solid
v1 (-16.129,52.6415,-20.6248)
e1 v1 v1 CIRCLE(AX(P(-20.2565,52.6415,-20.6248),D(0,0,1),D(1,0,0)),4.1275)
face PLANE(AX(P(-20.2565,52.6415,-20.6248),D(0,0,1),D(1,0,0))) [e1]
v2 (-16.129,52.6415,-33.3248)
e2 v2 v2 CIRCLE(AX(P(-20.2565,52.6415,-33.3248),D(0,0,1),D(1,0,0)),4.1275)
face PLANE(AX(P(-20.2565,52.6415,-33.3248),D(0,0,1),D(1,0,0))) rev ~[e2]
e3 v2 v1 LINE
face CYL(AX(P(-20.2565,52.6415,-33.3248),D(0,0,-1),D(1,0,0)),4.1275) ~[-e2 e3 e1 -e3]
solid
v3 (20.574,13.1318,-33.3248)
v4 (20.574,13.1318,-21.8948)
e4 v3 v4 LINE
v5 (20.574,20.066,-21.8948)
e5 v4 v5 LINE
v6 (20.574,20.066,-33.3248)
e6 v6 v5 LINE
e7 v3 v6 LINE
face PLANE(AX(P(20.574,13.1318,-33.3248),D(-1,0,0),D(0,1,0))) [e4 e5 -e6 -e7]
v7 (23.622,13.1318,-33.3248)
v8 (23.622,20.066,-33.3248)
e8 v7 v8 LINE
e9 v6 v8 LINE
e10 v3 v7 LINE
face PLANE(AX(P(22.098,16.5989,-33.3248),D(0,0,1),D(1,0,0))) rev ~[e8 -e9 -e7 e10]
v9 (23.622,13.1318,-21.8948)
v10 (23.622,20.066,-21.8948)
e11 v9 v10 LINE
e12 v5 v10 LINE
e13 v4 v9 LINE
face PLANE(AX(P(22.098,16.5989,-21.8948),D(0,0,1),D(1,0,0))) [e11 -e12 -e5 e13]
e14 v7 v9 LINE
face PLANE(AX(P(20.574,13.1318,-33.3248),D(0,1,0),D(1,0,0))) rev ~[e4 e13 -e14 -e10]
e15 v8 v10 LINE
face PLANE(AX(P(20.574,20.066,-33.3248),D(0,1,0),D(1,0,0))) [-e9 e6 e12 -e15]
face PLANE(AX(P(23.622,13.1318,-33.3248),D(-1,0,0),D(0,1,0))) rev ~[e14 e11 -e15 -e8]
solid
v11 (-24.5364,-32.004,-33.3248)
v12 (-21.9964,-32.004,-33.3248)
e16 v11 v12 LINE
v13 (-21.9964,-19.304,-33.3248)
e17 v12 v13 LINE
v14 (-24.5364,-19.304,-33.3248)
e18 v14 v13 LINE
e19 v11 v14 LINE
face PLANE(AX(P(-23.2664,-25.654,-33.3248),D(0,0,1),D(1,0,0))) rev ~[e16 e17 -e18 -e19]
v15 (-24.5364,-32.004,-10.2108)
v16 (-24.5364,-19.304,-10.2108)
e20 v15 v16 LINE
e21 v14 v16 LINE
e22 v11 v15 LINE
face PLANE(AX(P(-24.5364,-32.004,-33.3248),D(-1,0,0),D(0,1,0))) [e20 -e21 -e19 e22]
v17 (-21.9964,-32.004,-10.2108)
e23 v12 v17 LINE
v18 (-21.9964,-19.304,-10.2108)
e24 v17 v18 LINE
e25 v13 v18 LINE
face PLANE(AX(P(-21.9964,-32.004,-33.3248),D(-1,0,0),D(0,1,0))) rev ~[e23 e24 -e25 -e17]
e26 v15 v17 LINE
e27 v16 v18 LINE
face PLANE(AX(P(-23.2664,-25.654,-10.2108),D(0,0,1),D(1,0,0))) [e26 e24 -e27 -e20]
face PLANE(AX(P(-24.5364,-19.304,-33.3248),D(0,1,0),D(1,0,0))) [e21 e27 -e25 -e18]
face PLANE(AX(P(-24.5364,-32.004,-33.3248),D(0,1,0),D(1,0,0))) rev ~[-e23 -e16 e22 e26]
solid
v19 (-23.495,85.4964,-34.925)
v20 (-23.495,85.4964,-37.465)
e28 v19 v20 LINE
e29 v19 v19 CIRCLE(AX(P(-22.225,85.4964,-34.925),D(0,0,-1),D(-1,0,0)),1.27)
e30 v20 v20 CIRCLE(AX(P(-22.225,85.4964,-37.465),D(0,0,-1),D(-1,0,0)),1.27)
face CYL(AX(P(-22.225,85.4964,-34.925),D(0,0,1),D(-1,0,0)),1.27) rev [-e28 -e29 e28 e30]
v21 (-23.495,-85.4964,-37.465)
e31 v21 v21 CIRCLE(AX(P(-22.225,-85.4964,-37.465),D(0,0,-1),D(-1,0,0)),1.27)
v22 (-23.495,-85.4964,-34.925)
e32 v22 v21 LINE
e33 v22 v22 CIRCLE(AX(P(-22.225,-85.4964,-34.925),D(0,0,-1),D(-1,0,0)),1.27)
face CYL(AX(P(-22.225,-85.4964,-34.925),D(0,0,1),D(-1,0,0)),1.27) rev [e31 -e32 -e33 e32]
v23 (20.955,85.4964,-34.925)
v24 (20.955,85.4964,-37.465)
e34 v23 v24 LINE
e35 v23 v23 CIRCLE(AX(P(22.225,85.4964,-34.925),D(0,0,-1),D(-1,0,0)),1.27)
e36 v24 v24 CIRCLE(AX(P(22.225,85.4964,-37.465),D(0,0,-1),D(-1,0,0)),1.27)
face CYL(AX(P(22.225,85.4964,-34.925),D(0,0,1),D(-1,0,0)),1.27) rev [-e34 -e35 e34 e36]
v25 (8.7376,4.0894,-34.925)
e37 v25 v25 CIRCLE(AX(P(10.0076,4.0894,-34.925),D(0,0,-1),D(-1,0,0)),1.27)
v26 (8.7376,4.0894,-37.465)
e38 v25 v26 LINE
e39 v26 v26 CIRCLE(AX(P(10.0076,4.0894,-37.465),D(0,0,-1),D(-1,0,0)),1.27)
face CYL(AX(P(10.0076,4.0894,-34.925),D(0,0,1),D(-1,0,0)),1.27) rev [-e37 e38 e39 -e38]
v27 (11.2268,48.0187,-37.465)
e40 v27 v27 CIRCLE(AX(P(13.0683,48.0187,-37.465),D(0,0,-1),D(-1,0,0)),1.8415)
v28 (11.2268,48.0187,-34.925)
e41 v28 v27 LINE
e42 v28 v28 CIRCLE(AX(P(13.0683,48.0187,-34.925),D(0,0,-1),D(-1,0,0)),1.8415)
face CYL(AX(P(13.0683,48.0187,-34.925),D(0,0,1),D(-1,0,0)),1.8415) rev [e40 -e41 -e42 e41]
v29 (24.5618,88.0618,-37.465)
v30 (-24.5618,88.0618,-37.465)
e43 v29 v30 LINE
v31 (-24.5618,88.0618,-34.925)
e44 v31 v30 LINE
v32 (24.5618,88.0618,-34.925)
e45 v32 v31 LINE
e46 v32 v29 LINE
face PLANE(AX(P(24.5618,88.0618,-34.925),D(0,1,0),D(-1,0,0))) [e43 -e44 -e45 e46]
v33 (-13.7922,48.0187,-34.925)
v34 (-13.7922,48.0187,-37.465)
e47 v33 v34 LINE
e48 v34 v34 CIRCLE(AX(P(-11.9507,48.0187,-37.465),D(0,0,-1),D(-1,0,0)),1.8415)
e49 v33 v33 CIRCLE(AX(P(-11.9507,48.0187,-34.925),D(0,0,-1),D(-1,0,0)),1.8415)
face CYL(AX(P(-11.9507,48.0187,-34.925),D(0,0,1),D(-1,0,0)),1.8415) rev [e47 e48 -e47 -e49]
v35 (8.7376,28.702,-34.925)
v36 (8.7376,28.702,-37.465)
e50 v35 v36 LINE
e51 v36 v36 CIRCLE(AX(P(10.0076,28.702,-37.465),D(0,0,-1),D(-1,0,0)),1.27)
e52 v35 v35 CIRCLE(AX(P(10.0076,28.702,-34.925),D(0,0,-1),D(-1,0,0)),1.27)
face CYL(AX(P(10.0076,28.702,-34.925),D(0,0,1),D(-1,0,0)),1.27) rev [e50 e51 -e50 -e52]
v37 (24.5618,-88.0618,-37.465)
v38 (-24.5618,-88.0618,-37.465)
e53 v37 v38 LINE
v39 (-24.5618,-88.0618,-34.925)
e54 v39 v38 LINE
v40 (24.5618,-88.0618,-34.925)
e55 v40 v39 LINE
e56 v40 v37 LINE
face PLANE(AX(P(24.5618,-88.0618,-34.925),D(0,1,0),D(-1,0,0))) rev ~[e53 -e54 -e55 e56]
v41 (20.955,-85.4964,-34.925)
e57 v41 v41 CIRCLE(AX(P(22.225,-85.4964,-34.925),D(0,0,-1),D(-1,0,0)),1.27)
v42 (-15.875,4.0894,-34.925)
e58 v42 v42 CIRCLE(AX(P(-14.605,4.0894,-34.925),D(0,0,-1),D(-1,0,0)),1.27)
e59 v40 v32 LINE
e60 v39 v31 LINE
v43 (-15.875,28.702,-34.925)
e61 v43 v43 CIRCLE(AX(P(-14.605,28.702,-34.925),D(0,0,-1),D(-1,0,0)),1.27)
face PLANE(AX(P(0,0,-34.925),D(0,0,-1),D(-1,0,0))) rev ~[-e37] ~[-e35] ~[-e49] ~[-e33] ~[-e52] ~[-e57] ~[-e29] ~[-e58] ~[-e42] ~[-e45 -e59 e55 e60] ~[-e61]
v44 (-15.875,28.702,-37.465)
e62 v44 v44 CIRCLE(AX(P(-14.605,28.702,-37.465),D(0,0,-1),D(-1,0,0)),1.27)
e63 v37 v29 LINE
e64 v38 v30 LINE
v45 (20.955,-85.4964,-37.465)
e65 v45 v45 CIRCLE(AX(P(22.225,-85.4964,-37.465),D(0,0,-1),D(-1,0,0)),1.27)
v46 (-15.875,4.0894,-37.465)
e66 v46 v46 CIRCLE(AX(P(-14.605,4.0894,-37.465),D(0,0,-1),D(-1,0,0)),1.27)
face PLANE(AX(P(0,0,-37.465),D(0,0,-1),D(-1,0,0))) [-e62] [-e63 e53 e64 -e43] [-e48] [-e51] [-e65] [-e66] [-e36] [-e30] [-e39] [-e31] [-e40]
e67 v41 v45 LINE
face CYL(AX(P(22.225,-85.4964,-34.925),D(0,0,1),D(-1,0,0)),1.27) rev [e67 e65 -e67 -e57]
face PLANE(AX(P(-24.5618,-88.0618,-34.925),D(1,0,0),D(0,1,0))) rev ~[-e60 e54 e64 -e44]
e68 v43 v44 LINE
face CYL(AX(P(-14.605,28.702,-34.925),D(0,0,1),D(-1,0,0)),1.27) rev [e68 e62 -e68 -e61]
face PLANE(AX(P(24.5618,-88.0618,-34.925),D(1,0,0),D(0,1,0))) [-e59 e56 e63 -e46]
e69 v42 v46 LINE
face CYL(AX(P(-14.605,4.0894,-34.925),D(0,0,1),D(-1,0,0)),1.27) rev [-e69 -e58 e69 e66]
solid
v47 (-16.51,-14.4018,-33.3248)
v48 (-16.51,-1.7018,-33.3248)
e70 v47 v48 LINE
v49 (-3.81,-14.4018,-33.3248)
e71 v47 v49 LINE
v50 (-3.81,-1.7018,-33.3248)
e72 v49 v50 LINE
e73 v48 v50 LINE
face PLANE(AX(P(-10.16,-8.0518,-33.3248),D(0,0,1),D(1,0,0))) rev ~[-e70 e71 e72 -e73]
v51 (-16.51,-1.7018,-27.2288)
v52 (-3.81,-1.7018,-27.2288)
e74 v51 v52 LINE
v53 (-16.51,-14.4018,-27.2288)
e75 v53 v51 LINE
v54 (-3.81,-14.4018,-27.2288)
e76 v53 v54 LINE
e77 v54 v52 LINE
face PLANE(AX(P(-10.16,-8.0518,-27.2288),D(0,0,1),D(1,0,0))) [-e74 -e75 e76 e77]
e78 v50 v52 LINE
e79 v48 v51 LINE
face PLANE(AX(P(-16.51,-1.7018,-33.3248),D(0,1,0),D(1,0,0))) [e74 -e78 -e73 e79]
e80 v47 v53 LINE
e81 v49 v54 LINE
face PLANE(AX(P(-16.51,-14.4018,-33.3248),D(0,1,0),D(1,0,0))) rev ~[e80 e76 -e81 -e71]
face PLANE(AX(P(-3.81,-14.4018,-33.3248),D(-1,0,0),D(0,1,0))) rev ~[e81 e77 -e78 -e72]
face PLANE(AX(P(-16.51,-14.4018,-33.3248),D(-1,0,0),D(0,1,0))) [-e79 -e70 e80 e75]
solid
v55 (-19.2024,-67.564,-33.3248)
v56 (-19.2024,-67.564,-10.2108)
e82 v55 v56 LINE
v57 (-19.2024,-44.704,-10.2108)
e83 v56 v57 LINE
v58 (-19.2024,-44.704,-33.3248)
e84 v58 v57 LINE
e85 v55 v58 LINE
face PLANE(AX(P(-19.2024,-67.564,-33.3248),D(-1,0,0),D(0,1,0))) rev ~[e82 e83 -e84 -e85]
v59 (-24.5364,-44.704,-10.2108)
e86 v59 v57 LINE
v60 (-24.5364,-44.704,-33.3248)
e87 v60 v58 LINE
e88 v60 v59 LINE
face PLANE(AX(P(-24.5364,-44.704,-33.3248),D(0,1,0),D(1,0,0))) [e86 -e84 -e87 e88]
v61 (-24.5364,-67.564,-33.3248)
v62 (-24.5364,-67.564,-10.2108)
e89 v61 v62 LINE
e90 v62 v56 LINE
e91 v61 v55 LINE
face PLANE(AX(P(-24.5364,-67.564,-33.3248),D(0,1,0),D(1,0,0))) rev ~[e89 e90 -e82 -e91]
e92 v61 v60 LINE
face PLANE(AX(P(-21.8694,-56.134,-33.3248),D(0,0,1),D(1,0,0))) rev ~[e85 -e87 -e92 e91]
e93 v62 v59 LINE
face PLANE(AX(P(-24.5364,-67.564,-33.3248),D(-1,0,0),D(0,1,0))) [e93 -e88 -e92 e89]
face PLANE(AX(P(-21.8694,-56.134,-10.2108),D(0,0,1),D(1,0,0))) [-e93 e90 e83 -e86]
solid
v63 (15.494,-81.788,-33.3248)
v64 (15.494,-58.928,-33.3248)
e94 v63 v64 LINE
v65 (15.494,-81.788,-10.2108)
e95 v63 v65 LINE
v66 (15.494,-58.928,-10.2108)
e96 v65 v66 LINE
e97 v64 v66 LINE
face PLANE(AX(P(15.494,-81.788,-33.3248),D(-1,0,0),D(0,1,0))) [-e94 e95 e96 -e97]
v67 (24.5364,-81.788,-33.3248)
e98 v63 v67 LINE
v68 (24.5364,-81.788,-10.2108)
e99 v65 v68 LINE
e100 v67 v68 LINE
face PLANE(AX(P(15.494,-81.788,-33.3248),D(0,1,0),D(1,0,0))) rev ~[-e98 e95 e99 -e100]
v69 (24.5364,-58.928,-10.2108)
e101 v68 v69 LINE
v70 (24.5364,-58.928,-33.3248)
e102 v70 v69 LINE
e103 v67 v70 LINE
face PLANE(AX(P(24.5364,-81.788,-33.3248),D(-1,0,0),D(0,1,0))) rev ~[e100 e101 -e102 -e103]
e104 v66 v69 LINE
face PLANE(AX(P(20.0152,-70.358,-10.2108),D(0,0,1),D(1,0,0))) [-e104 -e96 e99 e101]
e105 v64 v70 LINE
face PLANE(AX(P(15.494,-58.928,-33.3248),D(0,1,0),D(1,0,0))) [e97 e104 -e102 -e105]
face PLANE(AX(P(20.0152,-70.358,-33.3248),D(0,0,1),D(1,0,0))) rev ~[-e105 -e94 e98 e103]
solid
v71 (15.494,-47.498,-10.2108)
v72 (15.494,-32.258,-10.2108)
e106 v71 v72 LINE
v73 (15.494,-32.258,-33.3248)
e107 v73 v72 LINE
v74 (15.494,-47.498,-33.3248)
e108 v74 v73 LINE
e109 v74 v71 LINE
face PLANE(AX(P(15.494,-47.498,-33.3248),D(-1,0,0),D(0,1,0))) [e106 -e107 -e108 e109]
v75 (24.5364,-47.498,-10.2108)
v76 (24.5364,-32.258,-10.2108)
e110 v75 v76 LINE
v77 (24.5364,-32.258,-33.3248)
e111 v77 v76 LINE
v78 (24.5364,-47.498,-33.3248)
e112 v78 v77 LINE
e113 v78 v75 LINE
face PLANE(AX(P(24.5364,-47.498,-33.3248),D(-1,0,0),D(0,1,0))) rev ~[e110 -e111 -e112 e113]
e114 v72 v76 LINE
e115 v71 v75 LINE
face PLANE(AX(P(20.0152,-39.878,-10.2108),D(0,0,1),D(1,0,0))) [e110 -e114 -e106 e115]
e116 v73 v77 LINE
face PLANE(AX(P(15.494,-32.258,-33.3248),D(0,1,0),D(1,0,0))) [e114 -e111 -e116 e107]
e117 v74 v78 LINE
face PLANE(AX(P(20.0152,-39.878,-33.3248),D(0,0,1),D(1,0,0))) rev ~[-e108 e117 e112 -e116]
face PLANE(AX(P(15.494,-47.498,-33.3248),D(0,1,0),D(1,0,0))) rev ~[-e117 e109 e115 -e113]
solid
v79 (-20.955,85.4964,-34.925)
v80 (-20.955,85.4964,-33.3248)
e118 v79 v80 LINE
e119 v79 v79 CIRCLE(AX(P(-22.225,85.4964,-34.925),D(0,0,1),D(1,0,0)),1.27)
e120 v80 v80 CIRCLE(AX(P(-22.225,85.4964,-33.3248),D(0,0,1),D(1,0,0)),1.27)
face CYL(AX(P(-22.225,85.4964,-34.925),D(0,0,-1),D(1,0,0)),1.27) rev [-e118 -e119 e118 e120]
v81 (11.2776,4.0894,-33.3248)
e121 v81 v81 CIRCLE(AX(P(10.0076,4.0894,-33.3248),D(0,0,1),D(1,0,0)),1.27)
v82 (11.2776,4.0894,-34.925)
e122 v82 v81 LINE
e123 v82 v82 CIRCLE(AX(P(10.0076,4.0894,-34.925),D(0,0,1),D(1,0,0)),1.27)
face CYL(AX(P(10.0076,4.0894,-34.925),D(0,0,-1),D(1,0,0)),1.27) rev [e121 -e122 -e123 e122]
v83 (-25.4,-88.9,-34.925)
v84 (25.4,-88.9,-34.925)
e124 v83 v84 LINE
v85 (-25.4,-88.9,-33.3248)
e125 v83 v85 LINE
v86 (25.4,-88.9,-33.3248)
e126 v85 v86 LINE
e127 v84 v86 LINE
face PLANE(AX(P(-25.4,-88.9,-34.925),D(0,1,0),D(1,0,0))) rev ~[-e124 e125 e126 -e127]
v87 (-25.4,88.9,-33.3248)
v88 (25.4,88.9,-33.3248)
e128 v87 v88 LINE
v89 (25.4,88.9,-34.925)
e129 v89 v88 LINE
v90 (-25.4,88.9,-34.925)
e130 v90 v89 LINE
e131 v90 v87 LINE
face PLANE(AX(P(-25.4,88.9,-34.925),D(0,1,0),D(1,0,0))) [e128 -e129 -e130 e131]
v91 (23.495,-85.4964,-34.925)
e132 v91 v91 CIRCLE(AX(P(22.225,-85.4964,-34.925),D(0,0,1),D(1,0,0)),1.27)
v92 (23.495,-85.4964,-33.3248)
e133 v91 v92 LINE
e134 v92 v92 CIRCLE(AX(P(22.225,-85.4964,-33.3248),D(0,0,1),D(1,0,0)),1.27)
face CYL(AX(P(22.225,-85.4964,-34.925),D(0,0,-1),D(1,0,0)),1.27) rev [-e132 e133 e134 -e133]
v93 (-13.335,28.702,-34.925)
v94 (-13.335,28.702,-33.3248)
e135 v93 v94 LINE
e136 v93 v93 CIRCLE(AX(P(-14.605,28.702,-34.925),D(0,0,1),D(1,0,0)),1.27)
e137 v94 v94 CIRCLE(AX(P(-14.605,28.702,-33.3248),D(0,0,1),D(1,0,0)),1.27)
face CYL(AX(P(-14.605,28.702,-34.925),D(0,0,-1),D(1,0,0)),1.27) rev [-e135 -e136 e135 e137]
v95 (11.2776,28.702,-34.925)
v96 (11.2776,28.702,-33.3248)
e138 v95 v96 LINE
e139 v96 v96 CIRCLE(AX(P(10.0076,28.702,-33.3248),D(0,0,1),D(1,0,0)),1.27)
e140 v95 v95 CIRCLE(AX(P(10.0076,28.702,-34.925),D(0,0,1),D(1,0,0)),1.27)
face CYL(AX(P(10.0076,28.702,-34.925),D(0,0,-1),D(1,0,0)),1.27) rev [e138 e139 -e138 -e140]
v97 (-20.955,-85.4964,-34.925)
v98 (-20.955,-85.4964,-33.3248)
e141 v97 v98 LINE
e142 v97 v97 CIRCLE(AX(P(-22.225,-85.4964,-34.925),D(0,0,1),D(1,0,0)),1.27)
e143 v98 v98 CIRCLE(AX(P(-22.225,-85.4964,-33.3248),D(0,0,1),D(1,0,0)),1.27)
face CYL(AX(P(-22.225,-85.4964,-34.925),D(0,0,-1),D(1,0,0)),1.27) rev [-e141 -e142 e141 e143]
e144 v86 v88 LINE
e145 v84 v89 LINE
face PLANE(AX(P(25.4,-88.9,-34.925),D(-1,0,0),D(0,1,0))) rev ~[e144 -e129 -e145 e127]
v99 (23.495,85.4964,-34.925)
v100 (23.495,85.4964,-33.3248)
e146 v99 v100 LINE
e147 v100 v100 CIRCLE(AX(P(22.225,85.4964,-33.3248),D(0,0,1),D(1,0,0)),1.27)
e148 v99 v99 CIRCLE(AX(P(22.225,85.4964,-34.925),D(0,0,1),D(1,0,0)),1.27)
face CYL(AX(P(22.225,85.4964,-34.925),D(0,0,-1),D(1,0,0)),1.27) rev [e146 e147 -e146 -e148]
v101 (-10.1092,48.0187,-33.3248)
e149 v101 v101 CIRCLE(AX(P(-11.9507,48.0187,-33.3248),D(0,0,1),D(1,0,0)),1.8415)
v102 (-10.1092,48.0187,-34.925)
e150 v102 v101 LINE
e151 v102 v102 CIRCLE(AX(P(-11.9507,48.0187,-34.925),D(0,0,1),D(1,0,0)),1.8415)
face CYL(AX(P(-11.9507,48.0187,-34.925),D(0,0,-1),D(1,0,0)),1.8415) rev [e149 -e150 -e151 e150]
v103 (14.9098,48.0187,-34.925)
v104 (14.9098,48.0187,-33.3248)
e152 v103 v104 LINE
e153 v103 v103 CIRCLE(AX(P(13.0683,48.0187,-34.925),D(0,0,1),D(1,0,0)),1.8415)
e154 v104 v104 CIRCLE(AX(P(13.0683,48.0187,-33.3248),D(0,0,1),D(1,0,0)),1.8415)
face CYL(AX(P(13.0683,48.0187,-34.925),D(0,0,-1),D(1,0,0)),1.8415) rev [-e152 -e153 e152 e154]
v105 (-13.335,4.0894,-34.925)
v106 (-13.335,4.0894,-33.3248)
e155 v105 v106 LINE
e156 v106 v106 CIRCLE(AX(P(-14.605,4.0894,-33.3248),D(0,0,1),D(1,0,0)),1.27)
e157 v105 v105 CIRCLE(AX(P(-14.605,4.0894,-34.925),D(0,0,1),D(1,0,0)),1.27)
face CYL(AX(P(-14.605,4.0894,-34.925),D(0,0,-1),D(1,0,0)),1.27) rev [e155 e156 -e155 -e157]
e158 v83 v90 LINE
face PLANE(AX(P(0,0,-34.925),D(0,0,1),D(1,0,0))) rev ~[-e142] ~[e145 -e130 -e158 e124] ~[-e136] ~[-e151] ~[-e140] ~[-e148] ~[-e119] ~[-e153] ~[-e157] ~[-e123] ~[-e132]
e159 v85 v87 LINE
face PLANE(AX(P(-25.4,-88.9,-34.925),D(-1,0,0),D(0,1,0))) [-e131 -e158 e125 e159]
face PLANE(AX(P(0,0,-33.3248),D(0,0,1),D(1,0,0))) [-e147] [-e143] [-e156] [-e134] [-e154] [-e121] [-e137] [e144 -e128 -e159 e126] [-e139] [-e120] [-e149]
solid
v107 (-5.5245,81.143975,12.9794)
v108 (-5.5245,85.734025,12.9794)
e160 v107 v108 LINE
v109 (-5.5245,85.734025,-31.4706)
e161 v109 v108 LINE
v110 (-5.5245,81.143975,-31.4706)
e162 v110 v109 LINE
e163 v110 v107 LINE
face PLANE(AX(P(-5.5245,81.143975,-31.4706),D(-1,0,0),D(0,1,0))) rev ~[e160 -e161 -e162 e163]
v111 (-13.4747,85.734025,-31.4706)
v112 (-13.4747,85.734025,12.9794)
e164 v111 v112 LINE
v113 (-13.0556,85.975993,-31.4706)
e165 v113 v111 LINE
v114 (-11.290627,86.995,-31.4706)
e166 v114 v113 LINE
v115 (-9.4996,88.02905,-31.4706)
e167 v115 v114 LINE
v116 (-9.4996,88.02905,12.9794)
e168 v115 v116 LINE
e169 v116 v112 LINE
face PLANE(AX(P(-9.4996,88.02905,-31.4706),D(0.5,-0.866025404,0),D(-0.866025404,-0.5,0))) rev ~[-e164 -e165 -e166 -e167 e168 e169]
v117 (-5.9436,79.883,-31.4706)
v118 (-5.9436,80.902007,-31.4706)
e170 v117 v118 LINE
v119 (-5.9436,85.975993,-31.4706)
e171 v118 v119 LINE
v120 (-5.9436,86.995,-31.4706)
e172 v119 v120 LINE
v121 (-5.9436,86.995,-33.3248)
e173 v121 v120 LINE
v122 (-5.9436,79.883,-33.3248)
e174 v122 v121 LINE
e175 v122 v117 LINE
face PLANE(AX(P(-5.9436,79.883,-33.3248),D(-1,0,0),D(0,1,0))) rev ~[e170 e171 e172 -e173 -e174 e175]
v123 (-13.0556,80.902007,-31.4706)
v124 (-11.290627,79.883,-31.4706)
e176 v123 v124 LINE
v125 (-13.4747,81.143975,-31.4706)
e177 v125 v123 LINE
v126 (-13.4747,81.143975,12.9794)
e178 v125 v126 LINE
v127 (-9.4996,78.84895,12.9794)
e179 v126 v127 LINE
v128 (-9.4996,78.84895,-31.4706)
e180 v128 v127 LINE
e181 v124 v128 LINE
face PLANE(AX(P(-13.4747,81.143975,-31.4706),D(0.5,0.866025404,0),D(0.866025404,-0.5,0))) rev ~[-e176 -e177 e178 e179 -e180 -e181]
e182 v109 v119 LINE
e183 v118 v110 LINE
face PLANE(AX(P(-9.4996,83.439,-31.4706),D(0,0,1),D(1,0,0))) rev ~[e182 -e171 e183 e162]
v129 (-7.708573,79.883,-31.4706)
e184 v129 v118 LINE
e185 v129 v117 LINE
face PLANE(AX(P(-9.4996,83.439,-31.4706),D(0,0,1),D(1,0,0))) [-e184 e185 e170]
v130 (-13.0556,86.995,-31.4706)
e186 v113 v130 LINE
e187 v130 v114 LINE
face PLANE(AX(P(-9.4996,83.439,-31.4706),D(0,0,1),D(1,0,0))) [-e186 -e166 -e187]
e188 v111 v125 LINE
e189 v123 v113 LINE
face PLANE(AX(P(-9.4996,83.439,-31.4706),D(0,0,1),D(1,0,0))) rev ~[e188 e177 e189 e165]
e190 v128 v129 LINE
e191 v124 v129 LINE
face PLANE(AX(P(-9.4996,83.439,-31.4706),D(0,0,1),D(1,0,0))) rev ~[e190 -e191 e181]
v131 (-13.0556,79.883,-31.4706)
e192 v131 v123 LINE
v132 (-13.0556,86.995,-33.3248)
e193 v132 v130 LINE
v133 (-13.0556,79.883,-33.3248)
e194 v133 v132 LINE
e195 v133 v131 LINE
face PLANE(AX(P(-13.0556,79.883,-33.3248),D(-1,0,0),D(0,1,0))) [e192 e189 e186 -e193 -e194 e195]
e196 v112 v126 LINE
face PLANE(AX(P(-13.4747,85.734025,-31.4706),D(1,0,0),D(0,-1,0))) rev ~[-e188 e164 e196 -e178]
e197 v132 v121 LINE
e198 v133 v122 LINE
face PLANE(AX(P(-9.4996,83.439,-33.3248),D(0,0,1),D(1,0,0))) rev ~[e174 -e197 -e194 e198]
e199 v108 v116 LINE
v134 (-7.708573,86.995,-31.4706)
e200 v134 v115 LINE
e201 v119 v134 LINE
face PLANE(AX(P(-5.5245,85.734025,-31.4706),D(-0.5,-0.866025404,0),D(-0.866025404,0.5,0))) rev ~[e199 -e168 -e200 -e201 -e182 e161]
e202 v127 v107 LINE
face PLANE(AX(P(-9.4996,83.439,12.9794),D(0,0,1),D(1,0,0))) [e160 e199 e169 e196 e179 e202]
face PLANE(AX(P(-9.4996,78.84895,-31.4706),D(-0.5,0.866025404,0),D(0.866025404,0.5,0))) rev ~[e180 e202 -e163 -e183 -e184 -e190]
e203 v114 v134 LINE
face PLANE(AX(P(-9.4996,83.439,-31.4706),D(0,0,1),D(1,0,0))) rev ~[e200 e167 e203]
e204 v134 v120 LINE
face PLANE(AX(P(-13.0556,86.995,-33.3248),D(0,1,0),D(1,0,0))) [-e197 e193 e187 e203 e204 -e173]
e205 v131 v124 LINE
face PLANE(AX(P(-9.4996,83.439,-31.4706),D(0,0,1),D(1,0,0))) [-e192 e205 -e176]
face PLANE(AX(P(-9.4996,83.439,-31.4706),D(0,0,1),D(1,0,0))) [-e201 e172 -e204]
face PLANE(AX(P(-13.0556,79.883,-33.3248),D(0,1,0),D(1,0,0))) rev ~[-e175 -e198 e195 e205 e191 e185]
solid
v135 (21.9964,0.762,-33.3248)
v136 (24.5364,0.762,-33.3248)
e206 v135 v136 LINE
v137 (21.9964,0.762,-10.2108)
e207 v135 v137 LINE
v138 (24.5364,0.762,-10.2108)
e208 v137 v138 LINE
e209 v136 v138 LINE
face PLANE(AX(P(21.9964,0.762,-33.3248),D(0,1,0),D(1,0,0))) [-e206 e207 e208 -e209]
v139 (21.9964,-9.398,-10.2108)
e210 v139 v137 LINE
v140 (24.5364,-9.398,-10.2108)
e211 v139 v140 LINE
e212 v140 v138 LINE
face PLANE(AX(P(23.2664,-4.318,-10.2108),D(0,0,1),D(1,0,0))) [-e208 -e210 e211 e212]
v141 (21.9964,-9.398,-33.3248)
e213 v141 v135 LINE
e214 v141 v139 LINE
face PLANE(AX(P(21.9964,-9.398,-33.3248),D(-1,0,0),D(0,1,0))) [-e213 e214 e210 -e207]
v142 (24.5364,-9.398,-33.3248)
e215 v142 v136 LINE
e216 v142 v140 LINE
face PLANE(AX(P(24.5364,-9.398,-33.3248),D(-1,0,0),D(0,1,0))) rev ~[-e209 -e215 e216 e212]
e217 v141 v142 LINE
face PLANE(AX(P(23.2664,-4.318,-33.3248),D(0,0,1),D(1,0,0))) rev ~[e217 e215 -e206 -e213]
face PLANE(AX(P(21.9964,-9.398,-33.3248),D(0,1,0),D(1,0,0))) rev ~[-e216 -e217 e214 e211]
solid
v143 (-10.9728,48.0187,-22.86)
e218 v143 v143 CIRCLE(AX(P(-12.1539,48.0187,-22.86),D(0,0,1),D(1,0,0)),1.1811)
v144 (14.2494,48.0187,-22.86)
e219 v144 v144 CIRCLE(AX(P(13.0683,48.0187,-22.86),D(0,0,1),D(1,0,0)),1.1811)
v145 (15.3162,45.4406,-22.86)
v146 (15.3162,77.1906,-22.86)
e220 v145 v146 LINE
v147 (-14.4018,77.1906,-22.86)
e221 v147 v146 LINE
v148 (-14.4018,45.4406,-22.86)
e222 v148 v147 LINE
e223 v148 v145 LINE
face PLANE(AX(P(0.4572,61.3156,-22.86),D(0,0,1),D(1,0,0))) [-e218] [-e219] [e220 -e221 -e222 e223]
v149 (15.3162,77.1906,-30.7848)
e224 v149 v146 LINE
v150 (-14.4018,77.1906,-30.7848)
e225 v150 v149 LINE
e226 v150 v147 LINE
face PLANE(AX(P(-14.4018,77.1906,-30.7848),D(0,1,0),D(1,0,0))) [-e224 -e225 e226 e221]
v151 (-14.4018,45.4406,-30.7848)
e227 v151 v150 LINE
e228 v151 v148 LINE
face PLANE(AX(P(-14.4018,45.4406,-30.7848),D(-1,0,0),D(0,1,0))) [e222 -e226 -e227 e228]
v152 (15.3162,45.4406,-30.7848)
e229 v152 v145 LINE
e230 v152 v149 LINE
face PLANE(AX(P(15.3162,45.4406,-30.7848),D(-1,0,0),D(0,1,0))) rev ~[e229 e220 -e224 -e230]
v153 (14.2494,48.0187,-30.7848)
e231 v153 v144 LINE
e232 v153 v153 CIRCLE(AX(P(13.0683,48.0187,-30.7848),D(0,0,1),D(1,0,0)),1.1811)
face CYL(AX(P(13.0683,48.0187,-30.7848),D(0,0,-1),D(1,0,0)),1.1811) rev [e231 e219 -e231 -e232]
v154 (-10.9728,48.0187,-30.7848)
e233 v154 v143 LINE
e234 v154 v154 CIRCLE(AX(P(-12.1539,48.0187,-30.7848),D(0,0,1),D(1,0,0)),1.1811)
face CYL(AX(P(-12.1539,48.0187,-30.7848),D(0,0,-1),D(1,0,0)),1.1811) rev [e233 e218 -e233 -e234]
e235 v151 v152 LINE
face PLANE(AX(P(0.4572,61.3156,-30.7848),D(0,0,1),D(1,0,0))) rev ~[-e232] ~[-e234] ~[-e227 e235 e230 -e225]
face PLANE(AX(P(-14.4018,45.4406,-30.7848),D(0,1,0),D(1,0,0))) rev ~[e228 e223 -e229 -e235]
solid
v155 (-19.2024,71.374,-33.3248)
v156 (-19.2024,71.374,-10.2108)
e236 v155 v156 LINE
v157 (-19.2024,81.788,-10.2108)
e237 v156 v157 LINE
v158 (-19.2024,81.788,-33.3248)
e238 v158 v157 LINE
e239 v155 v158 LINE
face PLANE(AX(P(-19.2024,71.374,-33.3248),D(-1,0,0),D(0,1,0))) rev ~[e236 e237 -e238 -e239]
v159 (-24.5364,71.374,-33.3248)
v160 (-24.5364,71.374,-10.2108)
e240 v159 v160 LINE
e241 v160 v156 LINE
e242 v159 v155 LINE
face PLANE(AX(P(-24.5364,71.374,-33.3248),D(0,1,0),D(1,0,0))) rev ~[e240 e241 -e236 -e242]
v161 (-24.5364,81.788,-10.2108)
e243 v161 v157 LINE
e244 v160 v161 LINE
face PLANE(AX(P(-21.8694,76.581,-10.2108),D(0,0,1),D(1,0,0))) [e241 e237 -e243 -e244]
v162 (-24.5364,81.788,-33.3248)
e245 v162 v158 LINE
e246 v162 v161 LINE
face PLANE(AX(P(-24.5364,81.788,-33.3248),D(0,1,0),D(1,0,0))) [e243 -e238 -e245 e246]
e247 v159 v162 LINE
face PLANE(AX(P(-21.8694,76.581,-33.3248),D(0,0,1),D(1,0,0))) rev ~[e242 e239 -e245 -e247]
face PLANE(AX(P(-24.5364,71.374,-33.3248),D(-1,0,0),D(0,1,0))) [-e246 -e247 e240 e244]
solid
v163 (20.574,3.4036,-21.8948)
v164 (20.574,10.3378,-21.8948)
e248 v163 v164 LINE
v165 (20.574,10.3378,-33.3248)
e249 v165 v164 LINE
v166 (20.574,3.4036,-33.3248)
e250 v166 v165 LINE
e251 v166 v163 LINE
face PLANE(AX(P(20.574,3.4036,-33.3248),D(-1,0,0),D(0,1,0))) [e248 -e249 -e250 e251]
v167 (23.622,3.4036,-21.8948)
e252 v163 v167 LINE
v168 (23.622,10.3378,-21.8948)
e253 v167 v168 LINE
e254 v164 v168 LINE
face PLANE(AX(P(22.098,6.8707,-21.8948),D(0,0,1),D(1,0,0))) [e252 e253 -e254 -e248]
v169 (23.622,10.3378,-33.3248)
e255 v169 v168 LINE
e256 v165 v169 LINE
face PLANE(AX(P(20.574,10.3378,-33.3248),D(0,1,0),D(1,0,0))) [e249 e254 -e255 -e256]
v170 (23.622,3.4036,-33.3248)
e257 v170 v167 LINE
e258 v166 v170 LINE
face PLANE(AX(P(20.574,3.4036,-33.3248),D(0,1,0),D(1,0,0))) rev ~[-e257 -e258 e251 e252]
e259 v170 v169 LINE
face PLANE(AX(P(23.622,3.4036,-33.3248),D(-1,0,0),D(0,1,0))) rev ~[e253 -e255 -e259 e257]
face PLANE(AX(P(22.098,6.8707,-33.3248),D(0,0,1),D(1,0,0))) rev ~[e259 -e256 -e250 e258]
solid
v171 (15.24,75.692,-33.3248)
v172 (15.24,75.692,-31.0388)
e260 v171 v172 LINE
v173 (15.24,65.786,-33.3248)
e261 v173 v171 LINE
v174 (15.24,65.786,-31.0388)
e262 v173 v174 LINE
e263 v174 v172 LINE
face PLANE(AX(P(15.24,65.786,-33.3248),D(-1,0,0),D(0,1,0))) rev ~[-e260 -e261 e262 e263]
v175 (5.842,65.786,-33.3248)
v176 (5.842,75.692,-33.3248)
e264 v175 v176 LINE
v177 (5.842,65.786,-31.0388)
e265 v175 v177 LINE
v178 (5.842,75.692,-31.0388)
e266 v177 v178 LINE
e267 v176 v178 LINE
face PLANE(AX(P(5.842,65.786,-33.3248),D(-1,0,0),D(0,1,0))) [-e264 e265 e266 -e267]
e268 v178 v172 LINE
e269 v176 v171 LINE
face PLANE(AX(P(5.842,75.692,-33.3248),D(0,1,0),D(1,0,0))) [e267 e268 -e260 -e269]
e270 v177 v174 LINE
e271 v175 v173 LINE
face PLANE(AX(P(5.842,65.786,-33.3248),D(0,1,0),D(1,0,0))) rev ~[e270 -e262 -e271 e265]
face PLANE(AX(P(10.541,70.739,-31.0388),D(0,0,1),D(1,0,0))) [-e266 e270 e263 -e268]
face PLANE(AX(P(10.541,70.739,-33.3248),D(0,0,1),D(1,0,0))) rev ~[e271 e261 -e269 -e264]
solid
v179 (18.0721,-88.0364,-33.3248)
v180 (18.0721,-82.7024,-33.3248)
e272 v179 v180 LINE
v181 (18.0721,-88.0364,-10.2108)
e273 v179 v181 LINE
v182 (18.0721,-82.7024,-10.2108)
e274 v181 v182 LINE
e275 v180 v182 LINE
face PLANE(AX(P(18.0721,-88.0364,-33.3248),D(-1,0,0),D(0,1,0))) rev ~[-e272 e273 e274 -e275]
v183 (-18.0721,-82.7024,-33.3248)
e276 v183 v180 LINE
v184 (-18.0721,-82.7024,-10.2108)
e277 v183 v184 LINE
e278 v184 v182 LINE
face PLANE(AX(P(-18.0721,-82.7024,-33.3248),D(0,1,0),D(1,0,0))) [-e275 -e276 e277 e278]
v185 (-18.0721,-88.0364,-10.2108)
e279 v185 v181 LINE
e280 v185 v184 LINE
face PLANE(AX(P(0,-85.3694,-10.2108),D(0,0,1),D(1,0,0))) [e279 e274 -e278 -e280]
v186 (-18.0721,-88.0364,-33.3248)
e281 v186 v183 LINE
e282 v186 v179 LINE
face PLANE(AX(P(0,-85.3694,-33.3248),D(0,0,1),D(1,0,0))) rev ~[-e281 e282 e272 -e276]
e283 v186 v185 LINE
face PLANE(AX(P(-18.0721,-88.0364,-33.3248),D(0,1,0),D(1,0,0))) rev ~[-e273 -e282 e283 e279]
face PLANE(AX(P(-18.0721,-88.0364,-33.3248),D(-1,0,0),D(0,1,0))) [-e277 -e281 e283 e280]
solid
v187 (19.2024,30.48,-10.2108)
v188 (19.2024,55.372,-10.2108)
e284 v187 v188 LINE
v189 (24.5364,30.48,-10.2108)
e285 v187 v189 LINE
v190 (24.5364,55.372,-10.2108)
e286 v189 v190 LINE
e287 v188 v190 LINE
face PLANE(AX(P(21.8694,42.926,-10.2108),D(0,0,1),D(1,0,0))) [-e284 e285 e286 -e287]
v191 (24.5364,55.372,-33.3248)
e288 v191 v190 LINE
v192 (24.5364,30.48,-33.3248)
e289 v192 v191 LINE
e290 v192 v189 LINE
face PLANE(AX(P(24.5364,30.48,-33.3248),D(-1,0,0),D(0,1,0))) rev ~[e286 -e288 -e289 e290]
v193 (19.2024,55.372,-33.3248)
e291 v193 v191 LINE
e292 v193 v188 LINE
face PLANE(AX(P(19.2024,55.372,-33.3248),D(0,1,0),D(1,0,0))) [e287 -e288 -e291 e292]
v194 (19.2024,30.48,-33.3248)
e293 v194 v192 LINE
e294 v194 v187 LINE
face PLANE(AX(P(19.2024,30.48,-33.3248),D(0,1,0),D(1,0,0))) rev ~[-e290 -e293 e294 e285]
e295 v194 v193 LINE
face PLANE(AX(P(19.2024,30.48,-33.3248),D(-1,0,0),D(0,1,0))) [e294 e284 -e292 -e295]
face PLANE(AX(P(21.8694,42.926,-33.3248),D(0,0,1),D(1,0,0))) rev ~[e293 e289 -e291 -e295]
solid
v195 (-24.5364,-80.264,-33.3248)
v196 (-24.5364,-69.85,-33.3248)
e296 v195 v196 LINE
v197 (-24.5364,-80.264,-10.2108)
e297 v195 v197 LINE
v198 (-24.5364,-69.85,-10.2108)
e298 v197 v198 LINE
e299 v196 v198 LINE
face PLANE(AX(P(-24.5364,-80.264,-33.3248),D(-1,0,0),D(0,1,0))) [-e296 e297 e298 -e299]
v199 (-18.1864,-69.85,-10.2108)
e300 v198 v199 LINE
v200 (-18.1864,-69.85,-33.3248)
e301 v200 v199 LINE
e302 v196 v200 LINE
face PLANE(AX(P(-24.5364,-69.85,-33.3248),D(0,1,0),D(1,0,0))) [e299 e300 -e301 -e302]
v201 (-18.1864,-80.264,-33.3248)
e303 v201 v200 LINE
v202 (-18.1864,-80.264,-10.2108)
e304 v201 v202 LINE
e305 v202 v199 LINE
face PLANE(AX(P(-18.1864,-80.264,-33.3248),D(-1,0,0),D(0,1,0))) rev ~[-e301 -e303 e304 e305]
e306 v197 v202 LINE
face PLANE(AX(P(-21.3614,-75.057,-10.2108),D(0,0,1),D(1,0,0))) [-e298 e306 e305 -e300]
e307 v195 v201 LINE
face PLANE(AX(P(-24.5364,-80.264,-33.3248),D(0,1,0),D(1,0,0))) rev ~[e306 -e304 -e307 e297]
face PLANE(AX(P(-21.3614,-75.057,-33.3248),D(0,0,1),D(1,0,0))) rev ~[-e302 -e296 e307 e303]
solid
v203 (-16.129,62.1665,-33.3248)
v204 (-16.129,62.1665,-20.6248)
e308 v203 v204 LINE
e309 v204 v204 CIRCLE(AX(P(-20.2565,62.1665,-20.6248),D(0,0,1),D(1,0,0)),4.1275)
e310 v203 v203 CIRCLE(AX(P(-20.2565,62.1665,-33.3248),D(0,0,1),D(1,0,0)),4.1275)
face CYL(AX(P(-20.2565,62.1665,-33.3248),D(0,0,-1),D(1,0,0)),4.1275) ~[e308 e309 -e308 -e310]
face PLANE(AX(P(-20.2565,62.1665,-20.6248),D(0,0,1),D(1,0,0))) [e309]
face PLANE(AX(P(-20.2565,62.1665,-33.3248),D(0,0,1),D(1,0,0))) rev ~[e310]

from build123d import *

# Parameters (mm, degrees)
SKETCH3_W             = 50.8
SKETCH3_H             = 177.8
SKETCH3_R             = 1.27
SKETCH3_R_2           = 1.8415
BOSS_EXTRUDE1_DEPTH   = 1.6002
SKETCH4_W             = 5.334
SKETCH4_H             = 10.414
BOSS_EXTRUDE2_DEPTH   = 23.114
SKETCH4_W_2           = 2.54
SKETCH4_H_2           = 12.7
BOSS_EXTRUDE2_2_DEPTH = 23.114
SKETCH4_H_3           = 22.86
BOSS_EXTRUDE2_3_DEPTH = 23.114
SKETCH4_W_3           = 6.35
BOSS_EXTRUDE2_4_DEPTH = 23.114
SKETCH4_W_4           = 36.1442
SKETCH4_H_4           = 5.334
BOSS_EXTRUDE2_5_DEPTH = 23.114
SKETCH4_W_5           = 9.0424
BOSS_EXTRUDE2_6_DEPTH = 23.114
SKETCH4_H_5           = 15.24
BOSS_EXTRUDE2_7_DEPTH = 23.114
SKETCH4_H_6           = 10.16
BOSS_EXTRUDE2_8_DEPTH = 23.114
SKETCH4_H_7           = 24.892
BOSS_EXTRUDE2_9_DEPTH = 23.114
SKETCH5_W             = 3.048
SKETCH5_H             = 6.9342
BOSS_EXTRUDE3_DEPTH   = 11.43
BOSS_EXTRUDE3_2_DEPTH = 11.43
SKETCH6_R             = 4.1275
BOSS_EXTRUDE4_DEPTH   = 12.7
BOSS_EXTRUDE4_2_DEPTH = 12.7
SKETCH7_W             = 12.7
SKETCH7_H             = 12.7
BOSS_EXTRUDE5_DEPTH   = 6.096
SKETCH8_W             = 9.398
SKETCH8_H             = 9.906
BOSS_EXTRUDE6_DEPTH   = 2.286
SKETCH9_W             = 7.112
SKETCH9_H             = 7.112
BOSS_EXTRUDE7_DEPTH   = 1.8542
BOSS_EXTRUDE8_DEPTH   = 44.45
SKETCH11_W            = 49.1236
SKETCH11_H            = 176.1236
SKETCH11_R            = 1.8415
SKETCH11_R_2          = 1.27
BOSS_EXTRUDE9_DEPTH   = 2.54
SKETCH13_W            = 29.718
SKETCH13_H            = 31.75
SKETCH13_R            = 1.1811
BOSS_EXTRUDE10_DEPTH  = 7.9248


with BuildPart() as part:
    # Sketch3 → Boss-Extrude1 (new body)
    with BuildSketch(Plane.XY.offset(-34.925)):
        Rectangle(SKETCH3_W, SKETCH3_H)
        with Locations((22.225, 85.4964)):
            Circle(SKETCH3_R, mode=Mode.SUBTRACT)
        with Locations((-22.225, 85.4964)):
            Circle(SKETCH3_R, mode=Mode.SUBTRACT)
        with Locations((22.225, -85.4964)):
            Circle(SKETCH3_R, mode=Mode.SUBTRACT)
        with Locations((-22.225, -85.4964)):
            Circle(SKETCH3_R, mode=Mode.SUBTRACT)
        with Locations((-14.605, 28.702)):
            Circle(SKETCH3_R, mode=Mode.SUBTRACT)
        with Locations((10.0076, 28.702)):
            Circle(SKETCH3_R, mode=Mode.SUBTRACT)
        with Locations((-14.605, 4.0894)):
            Circle(SKETCH3_R, mode=Mode.SUBTRACT)
        with Locations((10.0076, 4.0894)):
            Circle(SKETCH3_R, mode=Mode.SUBTRACT)
        with Locations((-11.9507, 48.0187)):
            Circle(SKETCH3_R_2, mode=Mode.SUBTRACT)
        with Locations((13.0683, 48.0187)):
            Circle(SKETCH3_R_2, mode=Mode.SUBTRACT)
    extrude(amount=BOSS_EXTRUDE1_DEPTH)


with BuildPart() as body_2:
    # Sketch4 → Boss-Extrude2 (new body)
    with BuildSketch(Plane.XY.offset(-33.3248)):
        with Locations((-21.8694, 76.581)):
            Rectangle(SKETCH4_W, SKETCH4_H)
    extrude(amount=BOSS_EXTRUDE2_DEPTH)


with BuildPart() as body_3:
    # Sketch4 → Boss-Extrude2 2 (new body)
    with BuildSketch(Plane.XY.offset(-33.3248)):
        with Locations((-23.2664, -25.654)):
            Rectangle(SKETCH4_W_2, SKETCH4_H_2)
    extrude(amount=BOSS_EXTRUDE2_2_DEPTH)


with BuildPart() as body_4:
    # Sketch4 → Boss-Extrude2 3 (new body)
    with BuildSketch(Plane.XY.offset(-33.3248)):
        with Locations((-21.8694, -56.134)):
            Rectangle(SKETCH4_W, SKETCH4_H_3)
    extrude(amount=BOSS_EXTRUDE2_3_DEPTH)


with BuildPart() as body_5:
    # Sketch4 → Boss-Extrude2 4 (new body)
    with BuildSketch(Plane.XY.offset(-33.3248)):
        with Locations((-21.3614, -75.057)):
            Rectangle(SKETCH4_W_3, SKETCH4_H)
    extrude(amount=BOSS_EXTRUDE2_4_DEPTH)


with BuildPart() as body_6:
    # Sketch4 → Boss-Extrude2 5 (new body)
    with BuildSketch(Plane.XY.offset(-33.3248)):
        with Locations((0, -85.3694)):
            Rectangle(SKETCH4_W_4, SKETCH4_H_4)
    extrude(amount=BOSS_EXTRUDE2_5_DEPTH)


with BuildPart() as body_7:
    # Sketch4 → Boss-Extrude2 6 (new body)
    with BuildSketch(Plane.XY.offset(-33.3248)):
        with Locations((20.0152, -70.358)):
            Rectangle(SKETCH4_W_5, SKETCH4_H_3)
    extrude(amount=BOSS_EXTRUDE2_6_DEPTH)


with BuildPart() as body_8:
    # Sketch4 → Boss-Extrude2 7 (new body)
    with BuildSketch(Plane.XY.offset(-33.3248)):
        with Locations((20.0152, -39.878)):
            Rectangle(SKETCH4_W_5, SKETCH4_H_5)
    extrude(amount=BOSS_EXTRUDE2_7_DEPTH)


with BuildPart() as body_9:
    # Sketch4 → Boss-Extrude2 8 (new body)
    with BuildSketch(Plane.XY.offset(-33.3248)):
        with Locations((23.2664, -4.318)):
            Rectangle(SKETCH4_W_2, SKETCH4_H_6)
    extrude(amount=BOSS_EXTRUDE2_8_DEPTH)


with BuildPart() as body_10:
    # Sketch4 → Boss-Extrude2 9 (new body)
    with BuildSketch(Plane.XY.offset(-33.3248)):
        with Locations((21.8694, 42.926)):
            Rectangle(SKETCH4_W, SKETCH4_H_7)
    extrude(amount=BOSS_EXTRUDE2_9_DEPTH)


with BuildPart() as body_11:
    # Sketch5 → Boss-Extrude3 (new body)
    with BuildSketch(Plane.XY.offset(-33.3248)):
        with Locations((22.098, 16.5989)):
            Rectangle(SKETCH5_W, SKETCH5_H)
    extrude(amount=BOSS_EXTRUDE3_DEPTH)


with BuildPart() as body_12:
    # Sketch5 → Boss-Extrude3 2 (new body)
    with BuildSketch(Plane.XY.offset(-33.3248)):
        with Locations((22.098, 6.8707)):
            Rectangle(SKETCH5_W, SKETCH5_H)
    extrude(amount=BOSS_EXTRUDE3_2_DEPTH)


with BuildPart() as body_13:
    # Sketch6 → Boss-Extrude4 (new body)
    with BuildSketch(Plane.XY.offset(-33.3248)):
        with Locations((-20.2565, 62.1665)):
            Circle(SKETCH6_R)
    extrude(amount=BOSS_EXTRUDE4_DEPTH)


with BuildPart() as body_14:
    # Sketch6 → Boss-Extrude4 2 (new body)
    with BuildSketch(Plane.XY.offset(-33.3248)):
        with Locations((-20.2565, 52.6415)):
            Circle(SKETCH6_R)
    extrude(amount=BOSS_EXTRUDE4_2_DEPTH)


with BuildPart() as body_15:
    # Sketch7 → Boss-Extrude5 (new body)
    with BuildSketch(Plane.XY.offset(-33.3248)):
        with Locations((-10.16, -8.0518)):
            Rectangle(SKETCH7_W, SKETCH7_H)
    extrude(amount=BOSS_EXTRUDE5_DEPTH)


with BuildPart() as body_16:
    # Sketch8 → Boss-Extrude6 (new body)
    with BuildSketch(Plane.XY.offset(-33.3248)):
        with Locations((10.541, 70.739)):
            Rectangle(SKETCH8_W, SKETCH8_H)
    extrude(amount=BOSS_EXTRUDE6_DEPTH)


with BuildPart() as body_17:
    # Sketch9 → Boss-Extrude7 (new body)
    with BuildSketch(Plane.XY.offset(-33.3248)):
        with Locations((-9.4996, 83.439)):
            Rectangle(SKETCH9_W, SKETCH9_H)
    extrude(amount=BOSS_EXTRUDE7_DEPTH)

    # Sketch10 → Boss-Extrude8 (add)
    with BuildSketch(Plane.XY.offset(-31.4706)):
        Polygon((-5.5245, 81.143974945), (-5.5245, 85.734025055), (-9.4996, 88.02905011), (-13.4747, 85.734025055), (-13.4747, 81.143974945), (-9.4996, 78.84894989), align=None)
    extrude(amount=BOSS_EXTRUDE8_DEPTH)


with BuildPart() as body_18:
    # Sketch11 → Boss-Extrude9 (new body)
    with BuildSketch(Plane(origin=(0, 0, -34.925), x_dir=(-1, 0, 0), z_dir=(0, 0, -1))):
        Rectangle(SKETCH11_W, SKETCH11_H)
        with Locations((-13.0683, 48.0187)):
            Circle(SKETCH11_R, mode=Mode.SUBTRACT)
        with Locations((11.9507, 48.0187)):
            Circle(SKETCH11_R, mode=Mode.SUBTRACT)
        with Locations((-10.0076, 28.702)):
            Circle(SKETCH11_R_2, mode=Mode.SUBTRACT)
        with Locations((14.605, 28.702)):
            Circle(SKETCH11_R_2, mode=Mode.SUBTRACT)
        with Locations((-10.0076, 4.0894)):
            Circle(SKETCH11_R_2, mode=Mode.SUBTRACT)
        with Locations((14.605, 4.0894)):
            Circle(SKETCH11_R_2, mode=Mode.SUBTRACT)
        with Locations((-22.225, -85.4964)):
            Circle(SKETCH11_R_2, mode=Mode.SUBTRACT)
        with Locations((22.225, -85.4964)):
            Circle(SKETCH11_R_2, mode=Mode.SUBTRACT)
        with Locations((22.225, 85.4964)):
            Circle(SKETCH11_R_2, mode=Mode.SUBTRACT)
        with Locations((-22.225, 85.4964)):
            Circle(SKETCH11_R_2, mode=Mode.SUBTRACT)
    extrude(amount=BOSS_EXTRUDE9_DEPTH)


with BuildPart() as body_19:
    # Sketch13 → Boss-Extrude10 (new body)
    with BuildSketch(Plane.XY.offset(-30.7848)):
        with Locations((0.4572, 61.3156)):
            Rectangle(SKETCH13_W, SKETCH13_H)
        with Locations((-12.1539, 48.0187)):
            Circle(SKETCH13_R, mode=Mode.SUBTRACT)
        with Locations((13.0683, 48.0187)):
            Circle(SKETCH13_R, mode=Mode.SUBTRACT)
    extrude(amount=BOSS_EXTRUDE10_DEPTH)


solid = Compound([part.part, body_2.part, body_3.part, body_4.part, body_5.part, body_6.part, body_7.part, body_8.part, body_9.part, body_10.part, body_11.part, body_12.part, body_13.part, body_14.part, body_15.part, body_16.part, body_17.part, body_18.part, body_19.part])
